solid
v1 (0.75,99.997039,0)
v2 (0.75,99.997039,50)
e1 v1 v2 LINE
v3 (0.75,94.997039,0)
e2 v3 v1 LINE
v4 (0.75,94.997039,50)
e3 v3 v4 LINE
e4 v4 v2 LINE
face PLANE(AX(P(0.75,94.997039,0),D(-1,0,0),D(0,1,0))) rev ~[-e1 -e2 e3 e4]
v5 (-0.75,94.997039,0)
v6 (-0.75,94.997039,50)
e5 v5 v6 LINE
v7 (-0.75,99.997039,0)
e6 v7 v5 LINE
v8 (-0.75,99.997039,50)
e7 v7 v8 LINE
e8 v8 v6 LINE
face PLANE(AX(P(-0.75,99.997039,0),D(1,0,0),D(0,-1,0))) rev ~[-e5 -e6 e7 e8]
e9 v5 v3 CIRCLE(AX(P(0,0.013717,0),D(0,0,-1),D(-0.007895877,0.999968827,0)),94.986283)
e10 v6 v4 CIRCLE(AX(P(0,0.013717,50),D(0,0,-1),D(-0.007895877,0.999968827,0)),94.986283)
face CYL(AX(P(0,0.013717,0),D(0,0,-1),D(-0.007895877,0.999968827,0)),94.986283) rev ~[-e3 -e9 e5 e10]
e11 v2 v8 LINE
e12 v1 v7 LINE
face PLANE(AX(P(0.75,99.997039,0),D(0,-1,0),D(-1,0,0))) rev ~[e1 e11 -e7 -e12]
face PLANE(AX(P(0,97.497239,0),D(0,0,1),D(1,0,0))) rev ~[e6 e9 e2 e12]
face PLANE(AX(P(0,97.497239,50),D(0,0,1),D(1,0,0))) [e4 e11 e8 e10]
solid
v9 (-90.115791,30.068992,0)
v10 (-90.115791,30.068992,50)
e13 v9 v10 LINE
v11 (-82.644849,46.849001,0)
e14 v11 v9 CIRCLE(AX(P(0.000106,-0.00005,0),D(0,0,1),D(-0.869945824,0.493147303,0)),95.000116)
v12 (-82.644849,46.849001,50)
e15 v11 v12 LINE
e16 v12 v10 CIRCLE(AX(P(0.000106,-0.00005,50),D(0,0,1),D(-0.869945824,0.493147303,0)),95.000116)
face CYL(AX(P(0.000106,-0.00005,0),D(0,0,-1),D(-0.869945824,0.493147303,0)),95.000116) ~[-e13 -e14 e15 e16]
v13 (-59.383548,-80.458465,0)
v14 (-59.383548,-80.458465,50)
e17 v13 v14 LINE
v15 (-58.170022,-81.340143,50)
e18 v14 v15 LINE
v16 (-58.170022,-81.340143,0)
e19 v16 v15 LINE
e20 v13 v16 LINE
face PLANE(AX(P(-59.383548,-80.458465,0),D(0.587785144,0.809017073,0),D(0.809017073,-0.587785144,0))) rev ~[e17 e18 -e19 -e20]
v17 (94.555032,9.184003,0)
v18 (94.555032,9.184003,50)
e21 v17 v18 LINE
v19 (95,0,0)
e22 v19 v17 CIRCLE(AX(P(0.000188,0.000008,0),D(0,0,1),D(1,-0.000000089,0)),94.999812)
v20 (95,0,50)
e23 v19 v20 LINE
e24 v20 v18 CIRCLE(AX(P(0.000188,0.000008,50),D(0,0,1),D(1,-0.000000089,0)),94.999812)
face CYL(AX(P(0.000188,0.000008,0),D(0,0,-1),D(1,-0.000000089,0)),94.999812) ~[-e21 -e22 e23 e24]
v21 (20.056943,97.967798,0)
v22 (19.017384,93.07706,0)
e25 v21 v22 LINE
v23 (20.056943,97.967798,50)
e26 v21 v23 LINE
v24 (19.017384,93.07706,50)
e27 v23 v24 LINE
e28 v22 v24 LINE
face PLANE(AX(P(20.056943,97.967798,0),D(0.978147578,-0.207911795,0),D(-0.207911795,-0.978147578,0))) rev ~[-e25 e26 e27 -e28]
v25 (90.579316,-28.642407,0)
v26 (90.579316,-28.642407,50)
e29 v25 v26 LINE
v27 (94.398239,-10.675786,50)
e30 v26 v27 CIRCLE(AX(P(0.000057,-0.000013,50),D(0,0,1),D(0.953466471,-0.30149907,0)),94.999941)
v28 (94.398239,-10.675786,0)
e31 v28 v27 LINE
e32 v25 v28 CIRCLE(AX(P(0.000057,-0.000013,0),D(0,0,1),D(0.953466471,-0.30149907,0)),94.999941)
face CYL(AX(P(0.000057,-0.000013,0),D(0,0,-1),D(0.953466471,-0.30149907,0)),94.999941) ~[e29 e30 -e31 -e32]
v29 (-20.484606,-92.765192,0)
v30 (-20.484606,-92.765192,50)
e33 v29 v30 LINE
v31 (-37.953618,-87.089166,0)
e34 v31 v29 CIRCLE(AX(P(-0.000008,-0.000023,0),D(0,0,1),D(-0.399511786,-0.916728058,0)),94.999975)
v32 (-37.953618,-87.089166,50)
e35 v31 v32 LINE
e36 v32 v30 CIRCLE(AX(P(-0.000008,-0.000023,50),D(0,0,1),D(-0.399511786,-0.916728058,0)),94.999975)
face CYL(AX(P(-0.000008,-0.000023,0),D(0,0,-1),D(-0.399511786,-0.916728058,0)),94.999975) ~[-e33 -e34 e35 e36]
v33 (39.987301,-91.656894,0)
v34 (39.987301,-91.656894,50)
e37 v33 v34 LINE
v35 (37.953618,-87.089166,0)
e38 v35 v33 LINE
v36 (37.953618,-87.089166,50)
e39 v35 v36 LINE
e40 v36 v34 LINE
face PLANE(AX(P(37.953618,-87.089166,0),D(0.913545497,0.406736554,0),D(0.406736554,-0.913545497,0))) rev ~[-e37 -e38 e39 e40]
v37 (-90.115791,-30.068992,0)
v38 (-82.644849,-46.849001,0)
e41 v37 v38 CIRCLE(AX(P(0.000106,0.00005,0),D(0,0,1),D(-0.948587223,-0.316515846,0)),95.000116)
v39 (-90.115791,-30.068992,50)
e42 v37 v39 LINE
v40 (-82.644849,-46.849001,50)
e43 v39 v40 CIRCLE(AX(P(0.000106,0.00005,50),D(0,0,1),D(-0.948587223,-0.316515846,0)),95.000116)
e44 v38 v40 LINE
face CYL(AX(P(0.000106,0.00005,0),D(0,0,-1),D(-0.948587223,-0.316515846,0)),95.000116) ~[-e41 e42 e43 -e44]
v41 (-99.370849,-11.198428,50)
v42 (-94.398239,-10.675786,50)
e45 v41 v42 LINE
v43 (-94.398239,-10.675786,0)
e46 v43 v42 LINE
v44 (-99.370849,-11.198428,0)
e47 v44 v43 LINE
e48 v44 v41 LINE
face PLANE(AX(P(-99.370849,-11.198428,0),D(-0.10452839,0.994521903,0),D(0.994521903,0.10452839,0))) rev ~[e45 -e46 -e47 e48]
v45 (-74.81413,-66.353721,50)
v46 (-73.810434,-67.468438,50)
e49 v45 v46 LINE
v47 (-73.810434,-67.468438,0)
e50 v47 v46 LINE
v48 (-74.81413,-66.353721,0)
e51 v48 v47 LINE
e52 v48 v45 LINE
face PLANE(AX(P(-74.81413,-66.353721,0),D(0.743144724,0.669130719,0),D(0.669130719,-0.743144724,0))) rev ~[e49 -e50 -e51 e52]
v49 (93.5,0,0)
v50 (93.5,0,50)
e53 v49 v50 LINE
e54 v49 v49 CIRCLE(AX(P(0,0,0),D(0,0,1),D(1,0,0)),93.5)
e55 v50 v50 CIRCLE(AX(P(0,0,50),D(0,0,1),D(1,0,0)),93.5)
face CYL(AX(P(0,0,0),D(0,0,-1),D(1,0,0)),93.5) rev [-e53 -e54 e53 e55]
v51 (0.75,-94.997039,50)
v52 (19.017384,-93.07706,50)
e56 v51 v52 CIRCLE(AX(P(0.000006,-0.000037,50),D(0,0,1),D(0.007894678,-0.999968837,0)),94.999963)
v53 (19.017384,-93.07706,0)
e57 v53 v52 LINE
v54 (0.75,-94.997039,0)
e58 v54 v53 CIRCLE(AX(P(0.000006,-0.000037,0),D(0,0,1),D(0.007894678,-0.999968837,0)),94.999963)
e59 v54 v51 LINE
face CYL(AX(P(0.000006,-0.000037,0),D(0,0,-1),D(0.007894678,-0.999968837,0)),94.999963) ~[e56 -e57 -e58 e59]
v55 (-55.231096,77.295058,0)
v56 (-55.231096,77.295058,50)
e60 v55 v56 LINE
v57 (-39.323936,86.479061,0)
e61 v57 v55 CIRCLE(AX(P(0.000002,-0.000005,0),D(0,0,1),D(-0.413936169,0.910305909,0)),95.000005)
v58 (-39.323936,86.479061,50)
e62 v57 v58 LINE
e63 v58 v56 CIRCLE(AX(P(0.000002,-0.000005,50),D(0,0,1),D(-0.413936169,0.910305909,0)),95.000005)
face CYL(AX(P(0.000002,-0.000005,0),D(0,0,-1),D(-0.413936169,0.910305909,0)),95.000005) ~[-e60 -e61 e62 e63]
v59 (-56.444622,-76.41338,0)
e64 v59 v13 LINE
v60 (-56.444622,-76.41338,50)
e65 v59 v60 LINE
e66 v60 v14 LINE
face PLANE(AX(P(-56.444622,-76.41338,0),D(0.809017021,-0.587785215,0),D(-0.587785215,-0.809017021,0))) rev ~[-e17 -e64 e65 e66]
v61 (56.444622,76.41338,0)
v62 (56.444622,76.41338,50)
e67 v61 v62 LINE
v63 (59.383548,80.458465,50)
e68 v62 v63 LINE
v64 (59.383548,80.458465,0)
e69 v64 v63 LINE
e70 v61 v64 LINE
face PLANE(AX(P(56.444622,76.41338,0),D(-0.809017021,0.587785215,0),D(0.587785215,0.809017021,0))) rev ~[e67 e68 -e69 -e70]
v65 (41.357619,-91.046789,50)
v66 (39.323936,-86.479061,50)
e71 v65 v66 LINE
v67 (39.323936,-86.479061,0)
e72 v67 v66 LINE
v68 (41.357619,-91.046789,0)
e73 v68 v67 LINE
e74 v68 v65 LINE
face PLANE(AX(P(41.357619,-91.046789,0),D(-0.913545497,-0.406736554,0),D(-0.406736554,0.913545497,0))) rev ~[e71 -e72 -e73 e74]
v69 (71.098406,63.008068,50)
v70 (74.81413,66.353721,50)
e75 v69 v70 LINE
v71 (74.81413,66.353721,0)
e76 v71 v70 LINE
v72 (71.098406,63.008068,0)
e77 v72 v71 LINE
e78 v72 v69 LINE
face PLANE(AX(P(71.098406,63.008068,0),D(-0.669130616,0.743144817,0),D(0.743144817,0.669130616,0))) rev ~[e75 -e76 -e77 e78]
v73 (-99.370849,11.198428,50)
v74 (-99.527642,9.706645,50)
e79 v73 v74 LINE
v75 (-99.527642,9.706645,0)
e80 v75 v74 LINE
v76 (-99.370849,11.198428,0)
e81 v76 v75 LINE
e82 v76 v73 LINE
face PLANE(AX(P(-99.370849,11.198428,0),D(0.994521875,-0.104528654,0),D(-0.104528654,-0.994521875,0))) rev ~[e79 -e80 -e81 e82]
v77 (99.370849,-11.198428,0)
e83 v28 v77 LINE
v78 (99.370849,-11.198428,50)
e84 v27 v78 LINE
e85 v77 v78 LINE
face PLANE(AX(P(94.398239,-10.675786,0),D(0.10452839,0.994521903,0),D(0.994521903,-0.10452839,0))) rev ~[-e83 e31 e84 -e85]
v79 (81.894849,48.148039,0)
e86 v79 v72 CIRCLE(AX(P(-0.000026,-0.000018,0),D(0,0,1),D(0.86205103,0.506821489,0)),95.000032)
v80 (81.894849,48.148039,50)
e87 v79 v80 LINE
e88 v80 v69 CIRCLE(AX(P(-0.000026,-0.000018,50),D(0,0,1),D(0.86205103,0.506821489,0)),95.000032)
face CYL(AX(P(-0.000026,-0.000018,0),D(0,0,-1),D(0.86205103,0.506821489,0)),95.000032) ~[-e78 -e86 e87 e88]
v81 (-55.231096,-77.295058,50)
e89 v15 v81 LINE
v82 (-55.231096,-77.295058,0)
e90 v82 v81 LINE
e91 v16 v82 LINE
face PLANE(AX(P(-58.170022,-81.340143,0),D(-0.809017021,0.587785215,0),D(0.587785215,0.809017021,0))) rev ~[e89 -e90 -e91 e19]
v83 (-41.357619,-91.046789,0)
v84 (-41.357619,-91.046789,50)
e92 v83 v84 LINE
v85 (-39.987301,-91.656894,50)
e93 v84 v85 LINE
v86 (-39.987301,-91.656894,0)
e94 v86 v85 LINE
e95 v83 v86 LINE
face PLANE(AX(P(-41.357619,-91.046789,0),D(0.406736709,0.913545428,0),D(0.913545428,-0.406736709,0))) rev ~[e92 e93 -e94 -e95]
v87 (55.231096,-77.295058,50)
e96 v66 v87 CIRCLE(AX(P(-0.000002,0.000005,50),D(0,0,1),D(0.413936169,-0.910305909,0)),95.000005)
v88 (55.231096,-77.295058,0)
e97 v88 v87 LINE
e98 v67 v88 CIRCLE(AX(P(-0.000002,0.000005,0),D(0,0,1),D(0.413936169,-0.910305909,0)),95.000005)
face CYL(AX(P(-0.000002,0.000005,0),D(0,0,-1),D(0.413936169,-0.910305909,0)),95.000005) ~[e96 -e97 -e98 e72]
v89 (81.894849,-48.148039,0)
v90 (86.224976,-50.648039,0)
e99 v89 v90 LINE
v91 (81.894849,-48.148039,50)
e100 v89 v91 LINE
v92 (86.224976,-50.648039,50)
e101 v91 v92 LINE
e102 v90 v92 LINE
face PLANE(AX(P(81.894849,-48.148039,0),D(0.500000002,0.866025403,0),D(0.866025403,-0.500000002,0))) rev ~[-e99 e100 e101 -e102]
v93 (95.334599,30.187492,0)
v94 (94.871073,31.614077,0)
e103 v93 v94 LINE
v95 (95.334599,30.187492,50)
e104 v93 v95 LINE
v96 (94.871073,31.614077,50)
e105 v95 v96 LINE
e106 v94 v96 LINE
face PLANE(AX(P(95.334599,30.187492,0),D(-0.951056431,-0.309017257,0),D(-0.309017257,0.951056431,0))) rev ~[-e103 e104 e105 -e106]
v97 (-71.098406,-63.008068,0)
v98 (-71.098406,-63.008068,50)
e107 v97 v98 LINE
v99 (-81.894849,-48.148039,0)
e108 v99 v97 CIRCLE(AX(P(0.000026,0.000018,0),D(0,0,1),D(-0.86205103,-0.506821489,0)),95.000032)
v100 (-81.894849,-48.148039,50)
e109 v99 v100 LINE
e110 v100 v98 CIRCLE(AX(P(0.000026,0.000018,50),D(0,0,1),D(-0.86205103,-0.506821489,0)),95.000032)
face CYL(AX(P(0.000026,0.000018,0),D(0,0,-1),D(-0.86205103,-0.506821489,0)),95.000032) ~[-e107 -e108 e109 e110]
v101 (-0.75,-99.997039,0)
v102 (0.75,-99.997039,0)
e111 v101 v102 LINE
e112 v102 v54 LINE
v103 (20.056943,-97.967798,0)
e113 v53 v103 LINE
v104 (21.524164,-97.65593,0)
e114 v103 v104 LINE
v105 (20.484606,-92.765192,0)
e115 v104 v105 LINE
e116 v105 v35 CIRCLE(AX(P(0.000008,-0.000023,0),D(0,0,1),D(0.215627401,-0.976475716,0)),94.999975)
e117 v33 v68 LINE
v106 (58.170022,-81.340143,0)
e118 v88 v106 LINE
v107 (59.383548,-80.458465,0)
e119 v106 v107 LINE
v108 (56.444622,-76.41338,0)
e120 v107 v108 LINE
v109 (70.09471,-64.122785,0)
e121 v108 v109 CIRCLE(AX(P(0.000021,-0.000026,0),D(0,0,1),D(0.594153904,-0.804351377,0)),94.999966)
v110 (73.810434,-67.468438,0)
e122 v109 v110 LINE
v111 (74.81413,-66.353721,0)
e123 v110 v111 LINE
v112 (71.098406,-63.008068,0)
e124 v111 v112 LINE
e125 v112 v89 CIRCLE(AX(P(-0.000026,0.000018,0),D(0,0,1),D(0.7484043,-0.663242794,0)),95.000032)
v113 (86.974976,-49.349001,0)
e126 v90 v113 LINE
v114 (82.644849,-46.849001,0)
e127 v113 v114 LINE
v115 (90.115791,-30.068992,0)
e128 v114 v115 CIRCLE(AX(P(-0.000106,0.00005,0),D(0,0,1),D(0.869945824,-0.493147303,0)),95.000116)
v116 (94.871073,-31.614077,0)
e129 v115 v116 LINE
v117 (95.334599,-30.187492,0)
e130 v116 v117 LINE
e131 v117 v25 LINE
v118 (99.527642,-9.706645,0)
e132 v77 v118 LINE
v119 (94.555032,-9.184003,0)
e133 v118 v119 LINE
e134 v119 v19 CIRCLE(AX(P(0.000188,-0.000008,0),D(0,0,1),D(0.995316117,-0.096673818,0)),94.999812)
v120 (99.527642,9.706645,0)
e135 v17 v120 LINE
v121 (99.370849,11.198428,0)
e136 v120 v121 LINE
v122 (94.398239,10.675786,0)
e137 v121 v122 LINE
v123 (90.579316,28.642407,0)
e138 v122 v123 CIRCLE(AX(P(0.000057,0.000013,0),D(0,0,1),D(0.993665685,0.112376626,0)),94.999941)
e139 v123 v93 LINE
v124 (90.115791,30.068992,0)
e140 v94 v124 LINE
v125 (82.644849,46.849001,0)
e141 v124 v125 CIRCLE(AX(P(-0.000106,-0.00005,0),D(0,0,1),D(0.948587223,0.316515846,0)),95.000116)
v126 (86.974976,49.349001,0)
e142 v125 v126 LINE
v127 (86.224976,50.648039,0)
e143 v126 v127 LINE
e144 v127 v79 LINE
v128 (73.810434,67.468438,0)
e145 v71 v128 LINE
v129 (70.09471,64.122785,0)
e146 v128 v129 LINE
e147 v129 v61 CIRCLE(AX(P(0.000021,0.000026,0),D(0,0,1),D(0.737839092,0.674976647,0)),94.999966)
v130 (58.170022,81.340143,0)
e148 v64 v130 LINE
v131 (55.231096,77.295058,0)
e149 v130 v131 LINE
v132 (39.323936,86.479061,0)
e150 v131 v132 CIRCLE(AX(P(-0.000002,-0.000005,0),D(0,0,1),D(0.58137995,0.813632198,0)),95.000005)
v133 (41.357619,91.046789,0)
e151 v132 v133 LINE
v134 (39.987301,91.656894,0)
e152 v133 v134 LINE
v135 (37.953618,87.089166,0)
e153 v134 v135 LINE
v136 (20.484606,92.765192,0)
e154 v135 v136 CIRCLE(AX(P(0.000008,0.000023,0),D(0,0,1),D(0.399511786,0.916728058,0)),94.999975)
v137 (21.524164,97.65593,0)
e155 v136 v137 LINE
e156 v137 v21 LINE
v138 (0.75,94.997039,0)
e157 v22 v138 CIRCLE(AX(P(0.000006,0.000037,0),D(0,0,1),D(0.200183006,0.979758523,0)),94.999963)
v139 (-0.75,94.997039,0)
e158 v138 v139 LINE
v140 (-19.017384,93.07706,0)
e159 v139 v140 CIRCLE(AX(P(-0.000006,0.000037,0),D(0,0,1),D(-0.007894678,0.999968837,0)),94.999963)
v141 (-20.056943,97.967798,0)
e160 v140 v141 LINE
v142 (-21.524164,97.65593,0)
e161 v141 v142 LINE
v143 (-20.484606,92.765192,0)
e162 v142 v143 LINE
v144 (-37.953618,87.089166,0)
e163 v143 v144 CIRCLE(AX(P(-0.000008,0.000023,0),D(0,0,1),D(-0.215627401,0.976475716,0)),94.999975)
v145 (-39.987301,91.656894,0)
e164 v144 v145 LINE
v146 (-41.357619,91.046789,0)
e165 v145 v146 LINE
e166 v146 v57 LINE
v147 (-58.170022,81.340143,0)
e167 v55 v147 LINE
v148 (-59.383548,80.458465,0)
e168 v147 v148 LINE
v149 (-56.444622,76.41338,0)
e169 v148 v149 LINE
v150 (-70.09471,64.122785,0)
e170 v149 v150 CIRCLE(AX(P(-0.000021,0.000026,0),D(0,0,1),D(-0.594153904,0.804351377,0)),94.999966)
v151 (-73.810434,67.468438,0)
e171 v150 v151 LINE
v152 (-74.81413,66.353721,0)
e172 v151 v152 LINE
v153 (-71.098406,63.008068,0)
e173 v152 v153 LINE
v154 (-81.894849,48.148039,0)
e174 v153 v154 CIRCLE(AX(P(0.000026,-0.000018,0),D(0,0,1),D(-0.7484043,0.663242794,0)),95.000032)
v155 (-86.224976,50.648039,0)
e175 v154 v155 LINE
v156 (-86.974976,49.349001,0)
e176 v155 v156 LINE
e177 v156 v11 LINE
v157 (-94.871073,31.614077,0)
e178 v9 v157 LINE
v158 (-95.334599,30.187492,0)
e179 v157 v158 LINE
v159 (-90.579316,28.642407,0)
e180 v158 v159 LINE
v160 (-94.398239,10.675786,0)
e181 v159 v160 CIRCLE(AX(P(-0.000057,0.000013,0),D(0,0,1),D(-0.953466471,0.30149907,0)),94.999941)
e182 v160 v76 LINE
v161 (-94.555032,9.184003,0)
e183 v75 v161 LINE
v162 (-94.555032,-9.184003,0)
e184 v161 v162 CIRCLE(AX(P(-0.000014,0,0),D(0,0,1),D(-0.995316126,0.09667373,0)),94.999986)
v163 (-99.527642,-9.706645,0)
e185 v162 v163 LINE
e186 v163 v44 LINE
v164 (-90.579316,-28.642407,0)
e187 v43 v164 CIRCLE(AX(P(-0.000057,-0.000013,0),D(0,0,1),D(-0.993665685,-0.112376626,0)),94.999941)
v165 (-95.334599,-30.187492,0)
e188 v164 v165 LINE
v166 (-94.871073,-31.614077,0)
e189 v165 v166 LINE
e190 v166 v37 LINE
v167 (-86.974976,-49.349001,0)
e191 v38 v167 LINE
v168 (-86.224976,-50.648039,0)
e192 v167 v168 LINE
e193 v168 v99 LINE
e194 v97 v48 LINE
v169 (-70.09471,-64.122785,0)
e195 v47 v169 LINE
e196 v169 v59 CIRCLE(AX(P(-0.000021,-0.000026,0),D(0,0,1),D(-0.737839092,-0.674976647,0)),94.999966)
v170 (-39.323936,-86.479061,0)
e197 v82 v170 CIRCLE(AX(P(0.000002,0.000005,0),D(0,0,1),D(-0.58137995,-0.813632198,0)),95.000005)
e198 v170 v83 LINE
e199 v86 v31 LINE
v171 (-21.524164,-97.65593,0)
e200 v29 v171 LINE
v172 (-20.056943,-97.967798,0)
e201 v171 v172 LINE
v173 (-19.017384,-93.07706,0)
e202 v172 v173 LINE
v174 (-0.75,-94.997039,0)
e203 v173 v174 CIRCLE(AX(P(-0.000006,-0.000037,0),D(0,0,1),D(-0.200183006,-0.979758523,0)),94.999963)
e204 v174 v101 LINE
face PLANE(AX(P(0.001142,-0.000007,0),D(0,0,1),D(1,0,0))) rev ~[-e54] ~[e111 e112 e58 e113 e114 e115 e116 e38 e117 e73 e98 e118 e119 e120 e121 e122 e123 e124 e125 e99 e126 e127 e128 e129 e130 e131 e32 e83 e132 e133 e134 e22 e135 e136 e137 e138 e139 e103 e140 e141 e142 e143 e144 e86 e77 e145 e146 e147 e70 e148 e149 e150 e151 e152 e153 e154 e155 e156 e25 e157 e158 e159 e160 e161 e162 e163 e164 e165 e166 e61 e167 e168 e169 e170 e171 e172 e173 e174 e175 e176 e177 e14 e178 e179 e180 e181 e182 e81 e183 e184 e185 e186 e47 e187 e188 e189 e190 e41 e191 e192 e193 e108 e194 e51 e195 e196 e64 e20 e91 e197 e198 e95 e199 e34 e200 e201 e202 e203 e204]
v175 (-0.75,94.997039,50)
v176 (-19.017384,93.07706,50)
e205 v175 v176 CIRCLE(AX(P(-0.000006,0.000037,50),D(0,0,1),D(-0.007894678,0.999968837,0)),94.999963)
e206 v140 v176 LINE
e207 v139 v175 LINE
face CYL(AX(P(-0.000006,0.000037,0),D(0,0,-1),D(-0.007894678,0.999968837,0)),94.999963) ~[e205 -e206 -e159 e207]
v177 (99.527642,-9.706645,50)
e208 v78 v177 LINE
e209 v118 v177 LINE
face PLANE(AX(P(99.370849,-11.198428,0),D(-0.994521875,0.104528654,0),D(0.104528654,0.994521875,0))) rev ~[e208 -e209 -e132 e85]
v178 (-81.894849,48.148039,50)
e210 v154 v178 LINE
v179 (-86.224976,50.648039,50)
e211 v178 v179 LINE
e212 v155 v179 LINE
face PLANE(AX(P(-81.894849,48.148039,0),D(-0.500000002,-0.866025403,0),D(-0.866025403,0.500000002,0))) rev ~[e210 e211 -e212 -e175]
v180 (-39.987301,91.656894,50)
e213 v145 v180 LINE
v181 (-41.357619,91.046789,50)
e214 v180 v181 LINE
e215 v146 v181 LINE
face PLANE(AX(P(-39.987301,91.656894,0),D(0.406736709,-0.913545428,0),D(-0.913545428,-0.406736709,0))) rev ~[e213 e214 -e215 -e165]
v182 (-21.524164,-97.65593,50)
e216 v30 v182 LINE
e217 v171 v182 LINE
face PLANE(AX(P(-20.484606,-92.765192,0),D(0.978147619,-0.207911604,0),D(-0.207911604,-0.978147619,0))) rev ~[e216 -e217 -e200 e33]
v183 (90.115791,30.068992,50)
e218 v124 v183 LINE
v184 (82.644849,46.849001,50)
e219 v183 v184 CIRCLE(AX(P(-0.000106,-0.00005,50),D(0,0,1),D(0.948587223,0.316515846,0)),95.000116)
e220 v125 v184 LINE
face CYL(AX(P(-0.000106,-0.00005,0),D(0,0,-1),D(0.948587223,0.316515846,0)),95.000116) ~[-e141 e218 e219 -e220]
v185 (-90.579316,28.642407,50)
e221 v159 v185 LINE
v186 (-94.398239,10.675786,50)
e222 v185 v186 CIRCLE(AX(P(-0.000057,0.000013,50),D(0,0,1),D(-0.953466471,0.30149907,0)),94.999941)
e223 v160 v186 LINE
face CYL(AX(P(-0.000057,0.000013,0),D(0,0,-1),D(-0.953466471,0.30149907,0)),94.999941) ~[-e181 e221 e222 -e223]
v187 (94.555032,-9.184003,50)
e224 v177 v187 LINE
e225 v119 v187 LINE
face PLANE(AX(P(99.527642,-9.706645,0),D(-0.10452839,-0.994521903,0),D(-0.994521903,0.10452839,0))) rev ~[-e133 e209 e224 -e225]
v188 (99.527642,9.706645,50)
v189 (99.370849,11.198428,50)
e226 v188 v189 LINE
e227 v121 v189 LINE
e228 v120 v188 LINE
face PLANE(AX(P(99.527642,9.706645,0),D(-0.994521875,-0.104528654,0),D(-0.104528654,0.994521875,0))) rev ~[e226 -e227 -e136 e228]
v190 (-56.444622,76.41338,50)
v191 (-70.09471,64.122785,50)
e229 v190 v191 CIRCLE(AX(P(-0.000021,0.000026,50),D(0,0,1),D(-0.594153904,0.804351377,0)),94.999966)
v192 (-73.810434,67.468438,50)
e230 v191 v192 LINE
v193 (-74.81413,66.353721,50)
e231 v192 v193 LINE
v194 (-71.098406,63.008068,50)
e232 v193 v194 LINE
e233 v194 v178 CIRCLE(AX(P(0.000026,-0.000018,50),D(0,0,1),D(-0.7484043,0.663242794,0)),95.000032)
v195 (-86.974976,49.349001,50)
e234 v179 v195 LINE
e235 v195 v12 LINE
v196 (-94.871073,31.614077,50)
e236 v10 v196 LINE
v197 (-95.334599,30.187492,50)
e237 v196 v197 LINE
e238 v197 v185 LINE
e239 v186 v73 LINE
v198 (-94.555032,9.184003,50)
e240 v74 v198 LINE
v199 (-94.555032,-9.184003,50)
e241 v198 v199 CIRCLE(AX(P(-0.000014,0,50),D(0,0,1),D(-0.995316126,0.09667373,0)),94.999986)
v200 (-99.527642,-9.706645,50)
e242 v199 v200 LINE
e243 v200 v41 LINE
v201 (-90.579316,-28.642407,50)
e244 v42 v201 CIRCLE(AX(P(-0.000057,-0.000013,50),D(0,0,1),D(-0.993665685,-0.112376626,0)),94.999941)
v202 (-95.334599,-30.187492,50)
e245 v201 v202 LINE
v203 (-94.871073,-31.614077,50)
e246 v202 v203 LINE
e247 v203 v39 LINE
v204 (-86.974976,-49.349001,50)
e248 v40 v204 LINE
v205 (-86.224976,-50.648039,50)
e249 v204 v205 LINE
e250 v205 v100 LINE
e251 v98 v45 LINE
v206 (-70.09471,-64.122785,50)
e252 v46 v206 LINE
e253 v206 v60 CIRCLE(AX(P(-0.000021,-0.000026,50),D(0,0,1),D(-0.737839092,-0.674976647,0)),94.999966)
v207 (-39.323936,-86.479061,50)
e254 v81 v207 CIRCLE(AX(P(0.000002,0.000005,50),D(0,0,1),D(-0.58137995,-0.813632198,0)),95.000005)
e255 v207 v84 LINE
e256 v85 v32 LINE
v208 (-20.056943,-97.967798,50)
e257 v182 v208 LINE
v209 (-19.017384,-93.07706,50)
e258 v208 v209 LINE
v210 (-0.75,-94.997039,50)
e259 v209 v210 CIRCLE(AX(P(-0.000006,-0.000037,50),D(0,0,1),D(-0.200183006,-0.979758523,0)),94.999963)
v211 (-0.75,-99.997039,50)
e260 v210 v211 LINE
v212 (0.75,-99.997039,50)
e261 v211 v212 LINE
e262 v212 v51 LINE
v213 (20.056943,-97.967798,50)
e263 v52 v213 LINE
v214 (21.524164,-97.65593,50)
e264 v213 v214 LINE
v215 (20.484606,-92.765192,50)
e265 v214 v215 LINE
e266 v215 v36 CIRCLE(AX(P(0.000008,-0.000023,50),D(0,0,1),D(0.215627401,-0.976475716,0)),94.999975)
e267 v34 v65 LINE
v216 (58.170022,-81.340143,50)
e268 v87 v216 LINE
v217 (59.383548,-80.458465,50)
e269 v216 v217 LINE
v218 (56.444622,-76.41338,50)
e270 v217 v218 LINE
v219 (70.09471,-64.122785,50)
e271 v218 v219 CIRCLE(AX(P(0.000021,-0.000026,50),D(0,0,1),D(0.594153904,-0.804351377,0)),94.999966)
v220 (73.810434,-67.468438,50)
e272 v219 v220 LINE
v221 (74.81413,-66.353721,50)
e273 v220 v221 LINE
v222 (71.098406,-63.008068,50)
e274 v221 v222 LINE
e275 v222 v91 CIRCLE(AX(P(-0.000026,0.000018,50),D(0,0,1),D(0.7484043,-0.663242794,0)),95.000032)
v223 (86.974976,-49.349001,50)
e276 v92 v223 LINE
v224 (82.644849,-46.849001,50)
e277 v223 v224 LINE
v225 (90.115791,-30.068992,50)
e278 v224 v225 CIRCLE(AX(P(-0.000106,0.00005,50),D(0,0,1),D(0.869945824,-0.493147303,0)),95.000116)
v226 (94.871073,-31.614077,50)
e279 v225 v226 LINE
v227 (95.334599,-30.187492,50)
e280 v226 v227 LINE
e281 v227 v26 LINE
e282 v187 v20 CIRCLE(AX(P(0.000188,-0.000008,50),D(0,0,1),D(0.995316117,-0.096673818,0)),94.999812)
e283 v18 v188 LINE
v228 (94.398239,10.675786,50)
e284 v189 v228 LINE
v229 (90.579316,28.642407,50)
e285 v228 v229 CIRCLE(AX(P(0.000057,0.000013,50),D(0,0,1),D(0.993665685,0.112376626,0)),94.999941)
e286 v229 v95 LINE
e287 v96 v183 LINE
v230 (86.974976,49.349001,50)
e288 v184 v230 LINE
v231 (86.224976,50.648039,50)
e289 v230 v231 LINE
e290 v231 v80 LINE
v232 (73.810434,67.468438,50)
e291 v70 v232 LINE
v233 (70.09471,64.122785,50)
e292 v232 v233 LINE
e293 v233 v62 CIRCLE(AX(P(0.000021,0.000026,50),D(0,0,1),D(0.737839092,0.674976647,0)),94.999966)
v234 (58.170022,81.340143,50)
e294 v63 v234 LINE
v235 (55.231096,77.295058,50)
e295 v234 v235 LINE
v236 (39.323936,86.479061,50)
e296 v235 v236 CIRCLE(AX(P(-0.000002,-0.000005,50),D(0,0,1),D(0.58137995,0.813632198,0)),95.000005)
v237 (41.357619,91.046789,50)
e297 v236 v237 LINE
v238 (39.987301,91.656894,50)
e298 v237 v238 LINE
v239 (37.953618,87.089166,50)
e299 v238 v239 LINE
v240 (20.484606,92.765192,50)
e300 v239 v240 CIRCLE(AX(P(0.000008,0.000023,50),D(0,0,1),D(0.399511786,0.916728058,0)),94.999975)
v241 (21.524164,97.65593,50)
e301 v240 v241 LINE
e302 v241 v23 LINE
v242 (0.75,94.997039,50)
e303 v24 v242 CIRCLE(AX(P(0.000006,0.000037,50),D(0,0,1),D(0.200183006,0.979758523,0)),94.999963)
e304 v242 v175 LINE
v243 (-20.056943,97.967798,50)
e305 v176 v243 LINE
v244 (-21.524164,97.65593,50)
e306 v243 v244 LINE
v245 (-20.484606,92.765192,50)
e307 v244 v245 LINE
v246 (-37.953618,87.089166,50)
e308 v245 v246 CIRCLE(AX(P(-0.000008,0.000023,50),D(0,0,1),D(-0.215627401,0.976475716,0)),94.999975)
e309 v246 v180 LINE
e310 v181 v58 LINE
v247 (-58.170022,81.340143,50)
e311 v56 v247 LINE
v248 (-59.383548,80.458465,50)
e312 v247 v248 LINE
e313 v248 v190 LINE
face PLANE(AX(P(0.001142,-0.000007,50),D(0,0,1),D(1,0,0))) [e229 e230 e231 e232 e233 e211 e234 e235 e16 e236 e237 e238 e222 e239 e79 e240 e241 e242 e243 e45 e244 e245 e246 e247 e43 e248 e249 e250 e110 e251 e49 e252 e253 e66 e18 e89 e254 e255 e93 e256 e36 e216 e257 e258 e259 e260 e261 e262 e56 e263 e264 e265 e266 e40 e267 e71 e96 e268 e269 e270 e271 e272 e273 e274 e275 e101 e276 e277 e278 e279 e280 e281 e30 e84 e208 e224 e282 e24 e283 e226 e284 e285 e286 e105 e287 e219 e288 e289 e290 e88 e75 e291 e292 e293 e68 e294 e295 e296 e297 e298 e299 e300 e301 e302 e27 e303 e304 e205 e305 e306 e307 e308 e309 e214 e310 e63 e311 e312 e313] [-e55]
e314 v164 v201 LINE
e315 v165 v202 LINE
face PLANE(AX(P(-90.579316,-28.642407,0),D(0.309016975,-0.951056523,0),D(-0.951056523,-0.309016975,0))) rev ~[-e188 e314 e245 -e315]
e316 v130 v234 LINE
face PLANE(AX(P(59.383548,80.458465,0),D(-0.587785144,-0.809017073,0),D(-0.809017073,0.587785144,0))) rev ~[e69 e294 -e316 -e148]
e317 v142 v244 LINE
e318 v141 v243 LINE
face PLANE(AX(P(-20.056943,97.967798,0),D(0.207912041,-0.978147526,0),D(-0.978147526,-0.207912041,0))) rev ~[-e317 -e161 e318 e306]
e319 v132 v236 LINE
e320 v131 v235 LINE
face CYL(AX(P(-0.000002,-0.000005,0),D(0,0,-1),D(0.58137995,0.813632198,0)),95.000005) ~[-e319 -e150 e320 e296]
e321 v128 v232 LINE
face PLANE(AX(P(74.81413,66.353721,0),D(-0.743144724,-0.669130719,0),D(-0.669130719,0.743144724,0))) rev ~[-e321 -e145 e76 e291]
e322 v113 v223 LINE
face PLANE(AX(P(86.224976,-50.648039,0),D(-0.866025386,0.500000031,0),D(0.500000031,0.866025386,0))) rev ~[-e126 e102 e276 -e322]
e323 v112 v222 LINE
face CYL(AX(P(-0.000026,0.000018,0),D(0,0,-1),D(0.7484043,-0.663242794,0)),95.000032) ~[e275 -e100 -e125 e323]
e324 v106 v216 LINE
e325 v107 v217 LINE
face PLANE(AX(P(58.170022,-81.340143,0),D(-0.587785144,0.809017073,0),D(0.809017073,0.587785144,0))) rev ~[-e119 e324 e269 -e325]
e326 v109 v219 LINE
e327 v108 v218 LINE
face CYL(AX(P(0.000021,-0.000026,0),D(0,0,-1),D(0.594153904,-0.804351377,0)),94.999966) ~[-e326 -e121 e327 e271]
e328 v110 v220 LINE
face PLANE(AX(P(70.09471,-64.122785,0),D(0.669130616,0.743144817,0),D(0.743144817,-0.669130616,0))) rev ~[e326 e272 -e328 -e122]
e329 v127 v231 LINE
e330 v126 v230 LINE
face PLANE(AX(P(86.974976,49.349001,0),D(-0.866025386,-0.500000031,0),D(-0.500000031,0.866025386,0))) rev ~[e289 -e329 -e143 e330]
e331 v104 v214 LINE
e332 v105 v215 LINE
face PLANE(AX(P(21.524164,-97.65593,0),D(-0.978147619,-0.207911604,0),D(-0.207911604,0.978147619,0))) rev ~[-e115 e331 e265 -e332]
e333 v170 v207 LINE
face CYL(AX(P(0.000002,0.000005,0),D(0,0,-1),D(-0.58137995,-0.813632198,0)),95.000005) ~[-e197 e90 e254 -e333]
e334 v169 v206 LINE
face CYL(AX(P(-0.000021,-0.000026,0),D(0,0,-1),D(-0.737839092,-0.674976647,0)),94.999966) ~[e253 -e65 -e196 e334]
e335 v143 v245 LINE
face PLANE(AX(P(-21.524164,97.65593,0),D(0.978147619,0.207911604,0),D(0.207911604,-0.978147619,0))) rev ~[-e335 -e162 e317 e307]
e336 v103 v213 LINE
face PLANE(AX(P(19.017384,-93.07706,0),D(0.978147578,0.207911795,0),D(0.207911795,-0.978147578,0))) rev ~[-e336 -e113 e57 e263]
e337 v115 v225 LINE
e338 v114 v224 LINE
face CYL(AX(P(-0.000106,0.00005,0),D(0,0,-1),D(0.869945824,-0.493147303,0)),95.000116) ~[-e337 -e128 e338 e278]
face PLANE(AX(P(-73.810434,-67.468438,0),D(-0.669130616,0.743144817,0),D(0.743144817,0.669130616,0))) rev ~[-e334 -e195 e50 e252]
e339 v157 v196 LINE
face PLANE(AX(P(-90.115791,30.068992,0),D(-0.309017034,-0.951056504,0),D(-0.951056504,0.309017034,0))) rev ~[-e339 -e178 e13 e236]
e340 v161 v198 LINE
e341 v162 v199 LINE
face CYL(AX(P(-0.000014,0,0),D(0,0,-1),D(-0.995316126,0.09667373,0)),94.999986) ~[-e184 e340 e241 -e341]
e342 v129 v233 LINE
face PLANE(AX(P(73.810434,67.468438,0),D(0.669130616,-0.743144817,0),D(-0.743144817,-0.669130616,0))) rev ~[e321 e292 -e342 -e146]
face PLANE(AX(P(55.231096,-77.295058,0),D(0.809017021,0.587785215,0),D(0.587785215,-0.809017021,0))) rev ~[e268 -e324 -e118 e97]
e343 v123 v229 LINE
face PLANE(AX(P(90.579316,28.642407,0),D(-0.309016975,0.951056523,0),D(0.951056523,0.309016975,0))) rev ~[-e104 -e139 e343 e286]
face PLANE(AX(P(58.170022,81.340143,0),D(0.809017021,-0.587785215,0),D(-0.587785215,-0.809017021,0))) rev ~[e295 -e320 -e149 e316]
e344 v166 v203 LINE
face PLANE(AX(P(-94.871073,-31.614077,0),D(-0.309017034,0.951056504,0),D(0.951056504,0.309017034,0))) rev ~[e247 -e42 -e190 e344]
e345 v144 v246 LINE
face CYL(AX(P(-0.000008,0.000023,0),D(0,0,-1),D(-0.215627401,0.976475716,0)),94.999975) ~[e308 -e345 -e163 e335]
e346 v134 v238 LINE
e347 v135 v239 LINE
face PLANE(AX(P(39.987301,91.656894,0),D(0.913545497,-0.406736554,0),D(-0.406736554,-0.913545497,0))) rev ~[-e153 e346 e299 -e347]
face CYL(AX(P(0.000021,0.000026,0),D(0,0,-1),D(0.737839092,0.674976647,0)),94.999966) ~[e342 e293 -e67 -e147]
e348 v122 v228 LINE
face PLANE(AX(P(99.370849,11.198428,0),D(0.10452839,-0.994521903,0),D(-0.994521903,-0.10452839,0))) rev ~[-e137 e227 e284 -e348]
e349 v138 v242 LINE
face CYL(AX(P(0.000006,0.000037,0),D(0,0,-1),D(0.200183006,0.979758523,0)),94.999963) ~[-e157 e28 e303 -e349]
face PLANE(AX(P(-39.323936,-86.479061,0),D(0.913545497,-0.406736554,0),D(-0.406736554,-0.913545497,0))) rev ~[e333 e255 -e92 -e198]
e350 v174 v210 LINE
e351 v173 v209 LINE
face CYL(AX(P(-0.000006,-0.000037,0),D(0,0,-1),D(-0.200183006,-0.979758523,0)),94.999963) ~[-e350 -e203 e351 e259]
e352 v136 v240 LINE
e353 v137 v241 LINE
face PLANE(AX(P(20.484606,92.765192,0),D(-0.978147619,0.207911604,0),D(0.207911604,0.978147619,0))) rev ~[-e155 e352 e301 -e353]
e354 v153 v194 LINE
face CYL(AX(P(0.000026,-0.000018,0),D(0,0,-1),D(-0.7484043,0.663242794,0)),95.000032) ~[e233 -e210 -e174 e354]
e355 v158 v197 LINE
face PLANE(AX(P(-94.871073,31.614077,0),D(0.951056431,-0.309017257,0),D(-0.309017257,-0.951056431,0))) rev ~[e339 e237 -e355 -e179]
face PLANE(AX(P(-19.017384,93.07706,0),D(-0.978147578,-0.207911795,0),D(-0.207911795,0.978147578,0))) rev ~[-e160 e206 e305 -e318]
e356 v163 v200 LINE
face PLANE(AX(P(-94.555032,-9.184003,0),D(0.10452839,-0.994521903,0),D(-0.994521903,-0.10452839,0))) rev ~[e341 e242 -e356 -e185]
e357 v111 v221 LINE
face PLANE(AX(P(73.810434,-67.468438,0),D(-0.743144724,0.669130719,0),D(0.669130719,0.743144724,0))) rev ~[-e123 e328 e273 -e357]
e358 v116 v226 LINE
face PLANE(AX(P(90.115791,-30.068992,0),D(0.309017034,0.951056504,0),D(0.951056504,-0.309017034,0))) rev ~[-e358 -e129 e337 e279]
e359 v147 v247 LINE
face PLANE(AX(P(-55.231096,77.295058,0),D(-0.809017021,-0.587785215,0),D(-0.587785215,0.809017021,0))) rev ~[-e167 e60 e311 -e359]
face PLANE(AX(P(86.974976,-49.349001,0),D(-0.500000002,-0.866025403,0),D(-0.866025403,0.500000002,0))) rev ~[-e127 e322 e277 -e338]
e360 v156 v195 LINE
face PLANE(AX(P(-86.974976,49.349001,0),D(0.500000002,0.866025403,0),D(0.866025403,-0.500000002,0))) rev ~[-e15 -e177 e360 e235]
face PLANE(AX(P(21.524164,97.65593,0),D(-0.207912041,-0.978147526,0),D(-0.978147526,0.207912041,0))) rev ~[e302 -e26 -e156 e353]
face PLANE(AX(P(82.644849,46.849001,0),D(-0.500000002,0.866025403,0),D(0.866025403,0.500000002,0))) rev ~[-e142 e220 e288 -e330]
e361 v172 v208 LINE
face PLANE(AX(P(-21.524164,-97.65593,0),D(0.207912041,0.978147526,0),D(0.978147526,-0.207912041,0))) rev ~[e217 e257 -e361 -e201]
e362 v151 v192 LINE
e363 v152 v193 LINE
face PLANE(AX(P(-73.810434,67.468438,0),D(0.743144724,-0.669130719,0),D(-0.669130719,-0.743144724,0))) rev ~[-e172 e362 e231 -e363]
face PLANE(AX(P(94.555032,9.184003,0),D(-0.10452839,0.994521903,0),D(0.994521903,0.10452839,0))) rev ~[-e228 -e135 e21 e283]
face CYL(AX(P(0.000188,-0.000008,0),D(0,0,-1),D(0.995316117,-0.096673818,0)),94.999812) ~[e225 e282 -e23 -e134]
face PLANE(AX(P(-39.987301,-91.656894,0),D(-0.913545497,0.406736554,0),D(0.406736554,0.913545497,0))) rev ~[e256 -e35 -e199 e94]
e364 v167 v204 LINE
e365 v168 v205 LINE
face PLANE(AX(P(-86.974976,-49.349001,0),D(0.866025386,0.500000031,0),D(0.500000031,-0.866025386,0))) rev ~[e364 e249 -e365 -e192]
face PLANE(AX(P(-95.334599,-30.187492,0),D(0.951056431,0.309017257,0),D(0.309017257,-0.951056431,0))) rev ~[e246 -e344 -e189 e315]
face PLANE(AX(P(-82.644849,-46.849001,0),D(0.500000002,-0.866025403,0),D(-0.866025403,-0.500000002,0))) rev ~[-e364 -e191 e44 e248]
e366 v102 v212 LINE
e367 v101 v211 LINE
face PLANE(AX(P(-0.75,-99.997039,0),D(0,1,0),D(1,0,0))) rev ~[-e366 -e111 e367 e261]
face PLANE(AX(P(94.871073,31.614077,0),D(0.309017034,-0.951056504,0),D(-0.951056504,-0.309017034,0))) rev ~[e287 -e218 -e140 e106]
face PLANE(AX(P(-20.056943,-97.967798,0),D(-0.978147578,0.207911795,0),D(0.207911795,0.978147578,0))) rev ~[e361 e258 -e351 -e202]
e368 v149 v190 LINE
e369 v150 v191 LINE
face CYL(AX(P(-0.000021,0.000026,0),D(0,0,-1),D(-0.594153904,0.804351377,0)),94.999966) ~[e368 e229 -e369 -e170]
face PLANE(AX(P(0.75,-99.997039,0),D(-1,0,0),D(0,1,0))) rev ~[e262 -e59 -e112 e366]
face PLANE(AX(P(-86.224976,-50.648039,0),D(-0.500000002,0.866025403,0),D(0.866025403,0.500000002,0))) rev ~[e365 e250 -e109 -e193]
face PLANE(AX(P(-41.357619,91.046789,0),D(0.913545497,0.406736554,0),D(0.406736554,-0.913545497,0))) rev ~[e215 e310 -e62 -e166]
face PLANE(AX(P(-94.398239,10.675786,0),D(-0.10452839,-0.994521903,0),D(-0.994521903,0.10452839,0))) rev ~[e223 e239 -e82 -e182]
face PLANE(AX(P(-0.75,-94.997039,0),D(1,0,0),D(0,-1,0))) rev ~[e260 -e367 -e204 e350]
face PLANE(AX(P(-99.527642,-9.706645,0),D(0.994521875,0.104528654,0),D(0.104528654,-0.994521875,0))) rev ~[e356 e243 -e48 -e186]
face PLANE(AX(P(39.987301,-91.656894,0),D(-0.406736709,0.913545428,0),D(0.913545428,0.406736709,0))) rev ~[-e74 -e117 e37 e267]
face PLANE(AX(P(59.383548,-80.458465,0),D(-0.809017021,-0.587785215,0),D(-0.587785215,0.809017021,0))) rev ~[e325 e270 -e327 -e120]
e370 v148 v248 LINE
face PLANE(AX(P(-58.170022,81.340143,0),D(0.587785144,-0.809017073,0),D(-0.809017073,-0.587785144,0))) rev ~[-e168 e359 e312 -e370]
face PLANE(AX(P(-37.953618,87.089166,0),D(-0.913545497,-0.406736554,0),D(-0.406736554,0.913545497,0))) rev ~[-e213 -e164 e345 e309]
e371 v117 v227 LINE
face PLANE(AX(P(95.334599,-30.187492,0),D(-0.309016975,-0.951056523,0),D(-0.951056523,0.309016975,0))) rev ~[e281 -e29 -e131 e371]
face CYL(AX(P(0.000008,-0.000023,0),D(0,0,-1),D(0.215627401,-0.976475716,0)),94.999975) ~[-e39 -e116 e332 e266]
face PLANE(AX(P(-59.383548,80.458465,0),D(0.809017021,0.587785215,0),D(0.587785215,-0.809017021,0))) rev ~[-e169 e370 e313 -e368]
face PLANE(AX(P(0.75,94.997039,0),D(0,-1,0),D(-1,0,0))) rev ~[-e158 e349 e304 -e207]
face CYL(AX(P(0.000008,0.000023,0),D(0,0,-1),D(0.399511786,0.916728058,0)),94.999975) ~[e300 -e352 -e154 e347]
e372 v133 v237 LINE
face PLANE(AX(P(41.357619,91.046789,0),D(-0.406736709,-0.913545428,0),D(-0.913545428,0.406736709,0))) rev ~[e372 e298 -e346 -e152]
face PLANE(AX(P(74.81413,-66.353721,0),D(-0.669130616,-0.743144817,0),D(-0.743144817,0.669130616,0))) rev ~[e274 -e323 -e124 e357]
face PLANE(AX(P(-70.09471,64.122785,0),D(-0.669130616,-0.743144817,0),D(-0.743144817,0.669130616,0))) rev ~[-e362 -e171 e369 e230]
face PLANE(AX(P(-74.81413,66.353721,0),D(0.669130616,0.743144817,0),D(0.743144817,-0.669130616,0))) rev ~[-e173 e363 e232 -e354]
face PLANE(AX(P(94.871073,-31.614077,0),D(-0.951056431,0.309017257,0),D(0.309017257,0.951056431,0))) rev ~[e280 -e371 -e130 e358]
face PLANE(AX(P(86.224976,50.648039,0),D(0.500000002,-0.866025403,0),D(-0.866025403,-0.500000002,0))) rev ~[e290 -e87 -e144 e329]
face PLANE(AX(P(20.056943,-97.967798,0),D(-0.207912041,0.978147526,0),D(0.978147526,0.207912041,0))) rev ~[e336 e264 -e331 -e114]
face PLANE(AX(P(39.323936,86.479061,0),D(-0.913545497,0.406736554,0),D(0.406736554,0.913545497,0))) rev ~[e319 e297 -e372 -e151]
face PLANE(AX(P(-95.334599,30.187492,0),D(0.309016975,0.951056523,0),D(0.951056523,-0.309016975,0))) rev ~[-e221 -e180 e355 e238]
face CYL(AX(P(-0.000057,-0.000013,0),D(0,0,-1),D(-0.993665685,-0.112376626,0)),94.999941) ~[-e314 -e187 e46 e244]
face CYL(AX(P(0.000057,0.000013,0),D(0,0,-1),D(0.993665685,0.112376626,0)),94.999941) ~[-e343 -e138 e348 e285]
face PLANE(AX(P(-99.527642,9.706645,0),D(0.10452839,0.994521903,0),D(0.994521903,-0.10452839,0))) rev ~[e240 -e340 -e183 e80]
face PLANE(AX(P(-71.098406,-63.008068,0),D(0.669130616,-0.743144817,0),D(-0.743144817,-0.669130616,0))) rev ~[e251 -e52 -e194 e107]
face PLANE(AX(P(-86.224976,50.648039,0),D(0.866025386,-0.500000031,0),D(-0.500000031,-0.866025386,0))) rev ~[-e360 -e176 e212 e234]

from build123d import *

# Parameters (mm, degrees)
F0_R     = 93.5
F1_DEPTH = 50


with BuildPart() as f1:
    # F0 (on Top) → F1 (new body)
    with BuildSketch(Plane.XY):
        with BuildLine():
            ThreePointArc((94.555032, -9.184003), (94.888693, -4.597388), (95, 0))
            ThreePointArc((95, 0), (94.888693, 4.597388), (94.555032, 9.184003))
            ThreePointArc((94.555032, 9.184003), (94.47958, 9.930204), (94.398239, 10.675786))
            ThreePointArc((94.398239, 10.675786), (92.924022, 19.751611), (90.579316, 28.642407))
            ThreePointArc((90.579316, 28.642407), (90.350369, 29.356614), (90.115791, 30.068992))
            ThreePointArc((90.115791, 30.068992), (86.786818, 38.639981), (82.644849, 46.849001))
            ThreePointArc((82.644849, 46.849001), (82.272413, 47.5), (81.894849, 48.148039))
            ThreePointArc((81.894849, 48.148039), (76.856614, 55.839599), (71.098406, 63.008068))
            ThreePointArc((71.098406, 63.008068), (70.598758, 63.567408), (70.09471, 64.122785))
            ThreePointArc((70.09471, 64.122785), (63.567408, 70.598758), (56.444622, 76.41338))
            ThreePointArc((56.444622, 76.41338), (55.839599, 76.856614), (55.231096, 77.295058))
            ThreePointArc((55.231096, 77.295058), (47.5, 82.272413), (39.323936, 86.479061))
            ThreePointArc((39.323936, 86.479061), (38.639981, 86.786818), (37.953618, 87.089166))
            ThreePointArc((37.953618, 87.089166), (29.356614, 90.350369), (20.484606, 92.765192))
            ThreePointArc((20.484606, 92.765192), (19.751611, 92.924022), (19.017384, 93.07706))
            ThreePointArc((19.017384, 93.07706), (9.930204, 94.47958), (0.75, 94.997039))
            Line((0.75, 94.997039), (-0.75, 94.997039))
            ThreePointArc((-0.75, 94.997039), (-9.930204, 94.47958), (-19.017384, 93.07706))
            ThreePointArc((-19.017384, 93.07706), (-19.751611, 92.924022), (-20.484606, 92.765192))
            ThreePointArc((-20.484606, 92.765192), (-29.356614, 90.350369), (-37.953618, 87.089166))
            ThreePointArc((-37.953618, 87.089166), (-38.639981, 86.786818), (-39.323936, 86.479061))
            ThreePointArc((-39.323936, 86.479061), (-47.5, 82.272413), (-55.231096, 77.295058))
            ThreePointArc((-55.231096, 77.295058), (-55.839599, 76.856614), (-56.444622, 76.41338))
            ThreePointArc((-56.444622, 76.41338), (-63.567408, 70.598758), (-70.09471, 64.122785))
            ThreePointArc((-70.09471, 64.122785), (-70.598758, 63.567408), (-71.098406, 63.008068))
            ThreePointArc((-71.098406, 63.008068), (-76.856614, 55.839599), (-81.894849, 48.148039))
            ThreePointArc((-81.894849, 48.148039), (-82.272413, 47.5), (-82.644849, 46.849001))
            ThreePointArc((-82.644849, 46.849001), (-86.786818, 38.639981), (-90.115791, 30.068992))
            ThreePointArc((-90.115791, 30.068992), (-90.350369, 29.356614), (-90.579316, 28.642407))
            ThreePointArc((-90.579316, 28.642407), (-92.924022, 19.751611), (-94.398239, 10.675786))
            ThreePointArc((-94.398239, 10.675786), (-94.47958, 9.930204), (-94.555032, 9.184003))
            ThreePointArc((-94.555032, 9.184003), (-95, 0), (-94.555032, -9.184003))
            ThreePointArc((-94.555032, -9.184003), (-94.47958, -9.930204), (-94.398239, -10.675786))
            ThreePointArc((-94.398239, -10.675786), (-92.924022, -19.751611), (-90.579316, -28.642407))
            ThreePointArc((-90.579316, -28.642407), (-90.350369, -29.356614), (-90.115791, -30.068992))
            ThreePointArc((-90.115791, -30.068992), (-86.786818, -38.639981), (-82.644849, -46.849001))
            ThreePointArc((-82.644849, -46.849001), (-82.272413, -47.5), (-81.894849, -48.148039))
            ThreePointArc((-81.894849, -48.148039), (-76.856614, -55.839599), (-71.098406, -63.008068))
            ThreePointArc((-71.098406, -63.008068), (-70.598758, -63.567408), (-70.09471, -64.122785))
            ThreePointArc((-70.09471, -64.122785), (-63.567408, -70.598758), (-56.444622, -76.41338))
            ThreePointArc((-56.444622, -76.41338), (-55.839599, -76.856614), (-55.231096, -77.295058))
            ThreePointArc((-55.231096, -77.295058), (-47.5, -82.272413), (-39.323936, -86.479061))
            ThreePointArc((-39.323936, -86.479061), (-38.639981, -86.786818), (-37.953618, -87.089166))
            ThreePointArc((-37.953618, -87.089166), (-29.356614, -90.350369), (-20.484606, -92.765192))
            ThreePointArc((-20.484606, -92.765192), (-19.751611, -92.924022), (-19.017384, -93.07706))
            ThreePointArc((-19.017384, -93.07706), (-9.930204, -94.47958), (-0.75, -94.997039))
            ThreePointArc((-0.75, -94.997039), (0, -95), (0.75, -94.997039))
            ThreePointArc((0.75, -94.997039), (9.930204, -94.47958), (19.017384, -93.07706))
            ThreePointArc((19.017384, -93.07706), (19.751611, -92.924022), (20.484606, -92.765192))
            ThreePointArc((20.484606, -92.765192), (29.356614, -90.350369), (37.953618, -87.089166))
            ThreePointArc((37.953618, -87.089166), (38.639981, -86.786818), (39.323936, -86.479061))
            ThreePointArc((39.323936, -86.479061), (47.5, -82.272413), (55.231096, -77.295058))
            ThreePointArc((55.231096, -77.295058), (55.839599, -76.856614), (56.444622, -76.41338))
            ThreePointArc((56.444622, -76.41338), (63.567408, -70.598758), (70.09471, -64.122785))
            ThreePointArc((70.09471, -64.122785), (70.598758, -63.567408), (71.098406, -63.008068))
            ThreePointArc((71.098406, -63.008068), (76.856614, -55.839599), (81.894849, -48.148039))
            ThreePointArc((81.894849, -48.148039), (82.272413, -47.5), (82.644849, -46.849001))
            ThreePointArc((82.644849, -46.849001), (86.786818, -38.639981), (90.115791, -30.068992))
            ThreePointArc((90.115791, -30.068992), (90.350369, -29.356614), (90.579316, -28.642407))
            ThreePointArc((90.579316, -28.642407), (92.924022, -19.751611), (94.398239, -10.675786))
            ThreePointArc((94.398239, -10.675786), (94.47958, -9.930204), (94.555032, -9.184003))
        make_face()
        Circle(F0_R, mode=Mode.SUBTRACT)
        with BuildLine():
            ThreePointArc((-0.75, 94.997039), (0, 95), (0.75, 94.997039))
            Line((0.75, 94.997039), (0.75, 99.997039))
            Line((0.75, 99.997039), (-0.75, 99.997039))
            Line((-0.75, 99.997039), (-0.75, 94.997039))
        make_face()
        with BuildLine():
            ThreePointArc((19.017384, 93.07706), (19.751611, 92.924022), (20.484606, 92.765192))
            Line((20.484606, 92.765192), (21.524164, 97.65593))
            Line((21.524164, 97.65593), (20.056943, 97.967798))
            Line((20.056943, 97.967798), (19.017384, 93.07706))
        make_face()
        with BuildLine():
            ThreePointArc((37.953618, 87.089166), (38.639981, 86.786818), (39.323936, 86.479061))
            Line((39.323936, 86.479061), (41.357619, 91.046789))
            Line((41.357619, 91.046789), (39.987301, 91.656894))
            Line((39.987301, 91.656894), (37.953618, 87.089166))
        make_face()
        with BuildLine():
            ThreePointArc((55.231096, 77.295058), (55.839599, 76.856614), (56.444622, 76.41338))
            Line((56.444622, 76.41338), (59.383548, 80.458465))
            Line((59.383548, 80.458465), (58.170022, 81.340143))
            Line((58.170022, 81.340143), (55.231096, 77.295058))
        make_face()
        with BuildLine():
            ThreePointArc((70.09471, 64.122785), (70.598758, 63.567408), (71.098406, 63.008068))
            Line((71.098406, 63.008068), (74.81413, 66.353721))
            Line((74.81413, 66.353721), (73.810434, 67.468438))
            Line((73.810434, 67.468438), (70.09471, 64.122785))
        make_face()
        with BuildLine():
            ThreePointArc((81.894849, 48.148039), (82.272413, 47.5), (82.644849, 46.849001))
            Line((82.644849, 46.849001), (86.974976, 49.349001))
            Line((86.974976, 49.349001), (86.224976, 50.648039))
            Line((86.224976, 50.648039), (81.894849, 48.148039))
        make_face()
        with BuildLine():
            ThreePointArc((-20.484606, 92.765192), (-19.751611, 92.924022), (-19.017384, 93.07706))
            Line((-19.017384, 93.07706), (-20.056943, 97.967798))
            Line((-20.056943, 97.967798), (-21.524164, 97.65593))
            Line((-21.524164, 97.65593), (-20.484606, 92.765192))
        make_face()
        with BuildLine():
            ThreePointArc((-39.323936, 86.479061), (-38.639981, 86.786818), (-37.953618, 87.089166))
            Line((-37.953618, 87.089166), (-39.987301, 91.656894))
            Line((-39.987301, 91.656894), (-41.357619, 91.046789))
            Line((-41.357619, 91.046789), (-39.323936, 86.479061))
        make_face()
        with BuildLine():
            ThreePointArc((-56.444622, 76.41338), (-55.839599, 76.856614), (-55.231096, 77.295058))
            Line((-55.231096, 77.295058), (-58.170022, 81.340143))
            Line((-58.170022, 81.340143), (-59.383548, 80.458465))
            Line((-59.383548, 80.458465), (-56.444622, 76.41338))
        make_face()
        with BuildLine():
            ThreePointArc((-71.098406, 63.008068), (-70.598758, 63.567408), (-70.09471, 64.122785))
            Line((-70.09471, 64.122785), (-73.810434, 67.468438))
            Line((-73.810434, 67.468438), (-74.81413, 66.353721))
            Line((-74.81413, 66.353721), (-71.098406, 63.008068))
        make_face()
        with BuildLine():
            ThreePointArc((90.115791, 30.068992), (90.350369, 29.356614), (90.579316, 28.642407))
            Line((90.579316, 28.642407), (95.334599, 30.187492))
            Line((95.334599, 30.187492), (94.871073, 31.614077))
            Line((94.871073, 31.614077), (90.115791, 30.068992))
        make_face()
        with BuildLine():
            ThreePointArc((94.398239, 10.675786), (94.47958, 9.930204), (94.555032, 9.184003))
            Line((94.555032, 9.184003), (99.527642, 9.706645))
            Line((99.527642, 9.706645), (99.370849, 11.198428))
            Line((99.370849, 11.198428), (94.398239, 10.675786))
        make_face()
        with BuildLine():
            Line((99.527642, -9.706645), (94.555032, -9.184003))
            ThreePointArc((94.555032, -9.184003), (94.47958, -9.930204), (94.398239, -10.675786))
            Line((94.398239, -10.675786), (99.370849, -11.198428))
            Line((99.370849, -11.198428), (99.527642, -9.706645))
        make_face()
        with BuildLine():
            Line((95.334599, -30.187492), (90.579316, -28.642407))
            ThreePointArc((90.579316, -28.642407), (90.350369, -29.356614), (90.115791, -30.068992))
            Line((90.115791, -30.068992), (94.871073, -31.614077))
            Line((94.871073, -31.614077), (95.334599, -30.187492))
        make_face()
        with BuildLine():
            ThreePointArc((-82.644849, 46.849001), (-82.272413, 47.5), (-81.894849, 48.148039))
            Line((-81.894849, 48.148039), (-86.224976, 50.648039))
            Line((-86.224976, 50.648039), (-86.974976, 49.349001))
            Line((-86.974976, 49.349001), (-82.644849, 46.849001))
        make_face()
        with BuildLine():
            ThreePointArc((-90.579316, 28.642407), (-90.350369, 29.356614), (-90.115791, 30.068992))
            Line((-90.115791, 30.068992), (-94.871073, 31.614077))
            Line((-94.871073, 31.614077), (-95.334599, 30.187492))
            Line((-95.334599, 30.187492), (-90.579316, 28.642407))
        make_face()
        with BuildLine():
            ThreePointArc((-94.555032, 9.184003), (-94.47958, 9.930204), (-94.398239, 10.675786))
            Line((-94.398239, 10.675786), (-99.370849, 11.198428))
            Line((-99.370849, 11.198428), (-99.527642, 9.706645))
            Line((-99.527642, 9.706645), (-94.555032, 9.184003))
        make_face()
        with BuildLine():
            Line((-99.370849, -11.198428), (-94.398239, -10.675786))
            ThreePointArc((-94.398239, -10.675786), (-94.47958, -9.930204), (-94.555032, -9.184003))
            Line((-94.555032, -9.184003), (-99.527642, -9.706645))
            Line((-99.527642, -9.706645), (-99.370849, -11.198428))
        make_face()
        with BuildLine():
            Line((-94.871073, -31.614077), (-90.115791, -30.068992))
            ThreePointArc((-90.115791, -30.068992), (-90.350369, -29.356614), (-90.579316, -28.642407))
            Line((-90.579316, -28.642407), (-95.334599, -30.187492))
            Line((-95.334599, -30.187492), (-94.871073, -31.614077))
        make_face()
        with BuildLine():
            Line((-86.224976, -50.648039), (-81.894849, -48.148039))
            ThreePointArc((-81.894849, -48.148039), (-82.272413, -47.5), (-82.644849, -46.849001))
            Line((-82.644849, -46.849001), (-86.974976, -49.349001))
            Line((-86.974976, -49.349001), (-86.224976, -50.648039))
        make_face()
        with BuildLine():
            Line((86.974976, -49.349001), (82.644849, -46.849001))
            ThreePointArc((82.644849, -46.849001), (82.272413, -47.5), (81.894849, -48.148039))
            Line((81.894849, -48.148039), (86.224976, -50.648039))
            Line((86.224976, -50.648039), (86.974976, -49.349001))
        make_face()
        with BuildLine():
            Line((-73.810434, -67.468438), (-70.09471, -64.122785))
            ThreePointArc((-70.09471, -64.122785), (-70.598758, -63.567408), (-71.098406, -63.008068))
            Line((-71.098406, -63.008068), (-74.81413, -66.353721))
            Line((-74.81413, -66.353721), (-73.810434, -67.468438))
        make_face()
        with BuildLine():
            Line((-58.170022, -81.340143), (-55.231096, -77.295058))
            ThreePointArc((-55.231096, -77.295058), (-55.839599, -76.856614), (-56.444622, -76.41338))
            Line((-56.444622, -76.41338), (-59.383548, -80.458465))
            Line((-59.383548, -80.458465), (-58.170022, -81.340143))
        make_face()
        with BuildLine():
            Line((-39.987301, -91.656894), (-37.953618, -87.089166))
            ThreePointArc((-37.953618, -87.089166), (-38.639981, -86.786818), (-39.323936, -86.479061))
            Line((-39.323936, -86.479061), (-41.357619, -91.046789))
            Line((-41.357619, -91.046789), (-39.987301, -91.656894))
        make_face()
        with BuildLine():
            Line((-20.056943, -97.967798), (-19.017384, -93.07706))
            ThreePointArc((-19.017384, -93.07706), (-19.751611, -92.924022), (-20.484606, -92.765192))
            Line((-20.484606, -92.765192), (-21.524164, -97.65593))
            Line((-21.524164, -97.65593), (-20.056943, -97.967798))
        make_face()
        with BuildLine():
            Line((0.75, -99.997039), (0.75, -94.997039))
            ThreePointArc((0.75, -94.997039), (0, -95), (-0.75, -94.997039))
            Line((-0.75, -94.997039), (-0.75, -99.997039))
            Line((-0.75, -99.997039), (0.75, -99.997039))
        make_face()
        with BuildLine():
            Line((21.524164, -97.65593), (20.484606, -92.765192))
            ThreePointArc((20.484606, -92.765192), (19.751611, -92.924022), (19.017384, -93.07706))
            Line((19.017384, -93.07706), (20.056943, -97.967798))
            Line((20.056943, -97.967798), (21.524164, -97.65593))
        make_face()
        with BuildLine():
            Line((41.357619, -91.046789), (39.323936, -86.479061))
            ThreePointArc((39.323936, -86.479061), (38.639981, -86.786818), (37.953618, -87.089166))
            Line((37.953618, -87.089166), (39.987301, -91.656894))
            Line((39.987301, -91.656894), (41.357619, -91.046789))
        make_face()
        with BuildLine():
            Line((59.383548, -80.458465), (56.444622, -76.41338))
            ThreePointArc((56.444622, -76.41338), (55.839599, -76.856614), (55.231096, -77.295058))
            Line((55.231096, -77.295058), (58.170022, -81.340143))
            Line((58.170022, -81.340143), (59.383548, -80.458465))
        make_face()
        with BuildLine():
            Line((74.81413, -66.353721), (71.098406, -63.008068))
            ThreePointArc((71.098406, -63.008068), (70.598758, -63.567408), (70.09471, -64.122785))
            Line((70.09471, -64.122785), (73.810434, -67.468438))
            Line((73.810434, -67.468438), (74.81413, -66.353721))
        make_face()
    extrude(amount=F1_DEPTH)


solid = f1.part
